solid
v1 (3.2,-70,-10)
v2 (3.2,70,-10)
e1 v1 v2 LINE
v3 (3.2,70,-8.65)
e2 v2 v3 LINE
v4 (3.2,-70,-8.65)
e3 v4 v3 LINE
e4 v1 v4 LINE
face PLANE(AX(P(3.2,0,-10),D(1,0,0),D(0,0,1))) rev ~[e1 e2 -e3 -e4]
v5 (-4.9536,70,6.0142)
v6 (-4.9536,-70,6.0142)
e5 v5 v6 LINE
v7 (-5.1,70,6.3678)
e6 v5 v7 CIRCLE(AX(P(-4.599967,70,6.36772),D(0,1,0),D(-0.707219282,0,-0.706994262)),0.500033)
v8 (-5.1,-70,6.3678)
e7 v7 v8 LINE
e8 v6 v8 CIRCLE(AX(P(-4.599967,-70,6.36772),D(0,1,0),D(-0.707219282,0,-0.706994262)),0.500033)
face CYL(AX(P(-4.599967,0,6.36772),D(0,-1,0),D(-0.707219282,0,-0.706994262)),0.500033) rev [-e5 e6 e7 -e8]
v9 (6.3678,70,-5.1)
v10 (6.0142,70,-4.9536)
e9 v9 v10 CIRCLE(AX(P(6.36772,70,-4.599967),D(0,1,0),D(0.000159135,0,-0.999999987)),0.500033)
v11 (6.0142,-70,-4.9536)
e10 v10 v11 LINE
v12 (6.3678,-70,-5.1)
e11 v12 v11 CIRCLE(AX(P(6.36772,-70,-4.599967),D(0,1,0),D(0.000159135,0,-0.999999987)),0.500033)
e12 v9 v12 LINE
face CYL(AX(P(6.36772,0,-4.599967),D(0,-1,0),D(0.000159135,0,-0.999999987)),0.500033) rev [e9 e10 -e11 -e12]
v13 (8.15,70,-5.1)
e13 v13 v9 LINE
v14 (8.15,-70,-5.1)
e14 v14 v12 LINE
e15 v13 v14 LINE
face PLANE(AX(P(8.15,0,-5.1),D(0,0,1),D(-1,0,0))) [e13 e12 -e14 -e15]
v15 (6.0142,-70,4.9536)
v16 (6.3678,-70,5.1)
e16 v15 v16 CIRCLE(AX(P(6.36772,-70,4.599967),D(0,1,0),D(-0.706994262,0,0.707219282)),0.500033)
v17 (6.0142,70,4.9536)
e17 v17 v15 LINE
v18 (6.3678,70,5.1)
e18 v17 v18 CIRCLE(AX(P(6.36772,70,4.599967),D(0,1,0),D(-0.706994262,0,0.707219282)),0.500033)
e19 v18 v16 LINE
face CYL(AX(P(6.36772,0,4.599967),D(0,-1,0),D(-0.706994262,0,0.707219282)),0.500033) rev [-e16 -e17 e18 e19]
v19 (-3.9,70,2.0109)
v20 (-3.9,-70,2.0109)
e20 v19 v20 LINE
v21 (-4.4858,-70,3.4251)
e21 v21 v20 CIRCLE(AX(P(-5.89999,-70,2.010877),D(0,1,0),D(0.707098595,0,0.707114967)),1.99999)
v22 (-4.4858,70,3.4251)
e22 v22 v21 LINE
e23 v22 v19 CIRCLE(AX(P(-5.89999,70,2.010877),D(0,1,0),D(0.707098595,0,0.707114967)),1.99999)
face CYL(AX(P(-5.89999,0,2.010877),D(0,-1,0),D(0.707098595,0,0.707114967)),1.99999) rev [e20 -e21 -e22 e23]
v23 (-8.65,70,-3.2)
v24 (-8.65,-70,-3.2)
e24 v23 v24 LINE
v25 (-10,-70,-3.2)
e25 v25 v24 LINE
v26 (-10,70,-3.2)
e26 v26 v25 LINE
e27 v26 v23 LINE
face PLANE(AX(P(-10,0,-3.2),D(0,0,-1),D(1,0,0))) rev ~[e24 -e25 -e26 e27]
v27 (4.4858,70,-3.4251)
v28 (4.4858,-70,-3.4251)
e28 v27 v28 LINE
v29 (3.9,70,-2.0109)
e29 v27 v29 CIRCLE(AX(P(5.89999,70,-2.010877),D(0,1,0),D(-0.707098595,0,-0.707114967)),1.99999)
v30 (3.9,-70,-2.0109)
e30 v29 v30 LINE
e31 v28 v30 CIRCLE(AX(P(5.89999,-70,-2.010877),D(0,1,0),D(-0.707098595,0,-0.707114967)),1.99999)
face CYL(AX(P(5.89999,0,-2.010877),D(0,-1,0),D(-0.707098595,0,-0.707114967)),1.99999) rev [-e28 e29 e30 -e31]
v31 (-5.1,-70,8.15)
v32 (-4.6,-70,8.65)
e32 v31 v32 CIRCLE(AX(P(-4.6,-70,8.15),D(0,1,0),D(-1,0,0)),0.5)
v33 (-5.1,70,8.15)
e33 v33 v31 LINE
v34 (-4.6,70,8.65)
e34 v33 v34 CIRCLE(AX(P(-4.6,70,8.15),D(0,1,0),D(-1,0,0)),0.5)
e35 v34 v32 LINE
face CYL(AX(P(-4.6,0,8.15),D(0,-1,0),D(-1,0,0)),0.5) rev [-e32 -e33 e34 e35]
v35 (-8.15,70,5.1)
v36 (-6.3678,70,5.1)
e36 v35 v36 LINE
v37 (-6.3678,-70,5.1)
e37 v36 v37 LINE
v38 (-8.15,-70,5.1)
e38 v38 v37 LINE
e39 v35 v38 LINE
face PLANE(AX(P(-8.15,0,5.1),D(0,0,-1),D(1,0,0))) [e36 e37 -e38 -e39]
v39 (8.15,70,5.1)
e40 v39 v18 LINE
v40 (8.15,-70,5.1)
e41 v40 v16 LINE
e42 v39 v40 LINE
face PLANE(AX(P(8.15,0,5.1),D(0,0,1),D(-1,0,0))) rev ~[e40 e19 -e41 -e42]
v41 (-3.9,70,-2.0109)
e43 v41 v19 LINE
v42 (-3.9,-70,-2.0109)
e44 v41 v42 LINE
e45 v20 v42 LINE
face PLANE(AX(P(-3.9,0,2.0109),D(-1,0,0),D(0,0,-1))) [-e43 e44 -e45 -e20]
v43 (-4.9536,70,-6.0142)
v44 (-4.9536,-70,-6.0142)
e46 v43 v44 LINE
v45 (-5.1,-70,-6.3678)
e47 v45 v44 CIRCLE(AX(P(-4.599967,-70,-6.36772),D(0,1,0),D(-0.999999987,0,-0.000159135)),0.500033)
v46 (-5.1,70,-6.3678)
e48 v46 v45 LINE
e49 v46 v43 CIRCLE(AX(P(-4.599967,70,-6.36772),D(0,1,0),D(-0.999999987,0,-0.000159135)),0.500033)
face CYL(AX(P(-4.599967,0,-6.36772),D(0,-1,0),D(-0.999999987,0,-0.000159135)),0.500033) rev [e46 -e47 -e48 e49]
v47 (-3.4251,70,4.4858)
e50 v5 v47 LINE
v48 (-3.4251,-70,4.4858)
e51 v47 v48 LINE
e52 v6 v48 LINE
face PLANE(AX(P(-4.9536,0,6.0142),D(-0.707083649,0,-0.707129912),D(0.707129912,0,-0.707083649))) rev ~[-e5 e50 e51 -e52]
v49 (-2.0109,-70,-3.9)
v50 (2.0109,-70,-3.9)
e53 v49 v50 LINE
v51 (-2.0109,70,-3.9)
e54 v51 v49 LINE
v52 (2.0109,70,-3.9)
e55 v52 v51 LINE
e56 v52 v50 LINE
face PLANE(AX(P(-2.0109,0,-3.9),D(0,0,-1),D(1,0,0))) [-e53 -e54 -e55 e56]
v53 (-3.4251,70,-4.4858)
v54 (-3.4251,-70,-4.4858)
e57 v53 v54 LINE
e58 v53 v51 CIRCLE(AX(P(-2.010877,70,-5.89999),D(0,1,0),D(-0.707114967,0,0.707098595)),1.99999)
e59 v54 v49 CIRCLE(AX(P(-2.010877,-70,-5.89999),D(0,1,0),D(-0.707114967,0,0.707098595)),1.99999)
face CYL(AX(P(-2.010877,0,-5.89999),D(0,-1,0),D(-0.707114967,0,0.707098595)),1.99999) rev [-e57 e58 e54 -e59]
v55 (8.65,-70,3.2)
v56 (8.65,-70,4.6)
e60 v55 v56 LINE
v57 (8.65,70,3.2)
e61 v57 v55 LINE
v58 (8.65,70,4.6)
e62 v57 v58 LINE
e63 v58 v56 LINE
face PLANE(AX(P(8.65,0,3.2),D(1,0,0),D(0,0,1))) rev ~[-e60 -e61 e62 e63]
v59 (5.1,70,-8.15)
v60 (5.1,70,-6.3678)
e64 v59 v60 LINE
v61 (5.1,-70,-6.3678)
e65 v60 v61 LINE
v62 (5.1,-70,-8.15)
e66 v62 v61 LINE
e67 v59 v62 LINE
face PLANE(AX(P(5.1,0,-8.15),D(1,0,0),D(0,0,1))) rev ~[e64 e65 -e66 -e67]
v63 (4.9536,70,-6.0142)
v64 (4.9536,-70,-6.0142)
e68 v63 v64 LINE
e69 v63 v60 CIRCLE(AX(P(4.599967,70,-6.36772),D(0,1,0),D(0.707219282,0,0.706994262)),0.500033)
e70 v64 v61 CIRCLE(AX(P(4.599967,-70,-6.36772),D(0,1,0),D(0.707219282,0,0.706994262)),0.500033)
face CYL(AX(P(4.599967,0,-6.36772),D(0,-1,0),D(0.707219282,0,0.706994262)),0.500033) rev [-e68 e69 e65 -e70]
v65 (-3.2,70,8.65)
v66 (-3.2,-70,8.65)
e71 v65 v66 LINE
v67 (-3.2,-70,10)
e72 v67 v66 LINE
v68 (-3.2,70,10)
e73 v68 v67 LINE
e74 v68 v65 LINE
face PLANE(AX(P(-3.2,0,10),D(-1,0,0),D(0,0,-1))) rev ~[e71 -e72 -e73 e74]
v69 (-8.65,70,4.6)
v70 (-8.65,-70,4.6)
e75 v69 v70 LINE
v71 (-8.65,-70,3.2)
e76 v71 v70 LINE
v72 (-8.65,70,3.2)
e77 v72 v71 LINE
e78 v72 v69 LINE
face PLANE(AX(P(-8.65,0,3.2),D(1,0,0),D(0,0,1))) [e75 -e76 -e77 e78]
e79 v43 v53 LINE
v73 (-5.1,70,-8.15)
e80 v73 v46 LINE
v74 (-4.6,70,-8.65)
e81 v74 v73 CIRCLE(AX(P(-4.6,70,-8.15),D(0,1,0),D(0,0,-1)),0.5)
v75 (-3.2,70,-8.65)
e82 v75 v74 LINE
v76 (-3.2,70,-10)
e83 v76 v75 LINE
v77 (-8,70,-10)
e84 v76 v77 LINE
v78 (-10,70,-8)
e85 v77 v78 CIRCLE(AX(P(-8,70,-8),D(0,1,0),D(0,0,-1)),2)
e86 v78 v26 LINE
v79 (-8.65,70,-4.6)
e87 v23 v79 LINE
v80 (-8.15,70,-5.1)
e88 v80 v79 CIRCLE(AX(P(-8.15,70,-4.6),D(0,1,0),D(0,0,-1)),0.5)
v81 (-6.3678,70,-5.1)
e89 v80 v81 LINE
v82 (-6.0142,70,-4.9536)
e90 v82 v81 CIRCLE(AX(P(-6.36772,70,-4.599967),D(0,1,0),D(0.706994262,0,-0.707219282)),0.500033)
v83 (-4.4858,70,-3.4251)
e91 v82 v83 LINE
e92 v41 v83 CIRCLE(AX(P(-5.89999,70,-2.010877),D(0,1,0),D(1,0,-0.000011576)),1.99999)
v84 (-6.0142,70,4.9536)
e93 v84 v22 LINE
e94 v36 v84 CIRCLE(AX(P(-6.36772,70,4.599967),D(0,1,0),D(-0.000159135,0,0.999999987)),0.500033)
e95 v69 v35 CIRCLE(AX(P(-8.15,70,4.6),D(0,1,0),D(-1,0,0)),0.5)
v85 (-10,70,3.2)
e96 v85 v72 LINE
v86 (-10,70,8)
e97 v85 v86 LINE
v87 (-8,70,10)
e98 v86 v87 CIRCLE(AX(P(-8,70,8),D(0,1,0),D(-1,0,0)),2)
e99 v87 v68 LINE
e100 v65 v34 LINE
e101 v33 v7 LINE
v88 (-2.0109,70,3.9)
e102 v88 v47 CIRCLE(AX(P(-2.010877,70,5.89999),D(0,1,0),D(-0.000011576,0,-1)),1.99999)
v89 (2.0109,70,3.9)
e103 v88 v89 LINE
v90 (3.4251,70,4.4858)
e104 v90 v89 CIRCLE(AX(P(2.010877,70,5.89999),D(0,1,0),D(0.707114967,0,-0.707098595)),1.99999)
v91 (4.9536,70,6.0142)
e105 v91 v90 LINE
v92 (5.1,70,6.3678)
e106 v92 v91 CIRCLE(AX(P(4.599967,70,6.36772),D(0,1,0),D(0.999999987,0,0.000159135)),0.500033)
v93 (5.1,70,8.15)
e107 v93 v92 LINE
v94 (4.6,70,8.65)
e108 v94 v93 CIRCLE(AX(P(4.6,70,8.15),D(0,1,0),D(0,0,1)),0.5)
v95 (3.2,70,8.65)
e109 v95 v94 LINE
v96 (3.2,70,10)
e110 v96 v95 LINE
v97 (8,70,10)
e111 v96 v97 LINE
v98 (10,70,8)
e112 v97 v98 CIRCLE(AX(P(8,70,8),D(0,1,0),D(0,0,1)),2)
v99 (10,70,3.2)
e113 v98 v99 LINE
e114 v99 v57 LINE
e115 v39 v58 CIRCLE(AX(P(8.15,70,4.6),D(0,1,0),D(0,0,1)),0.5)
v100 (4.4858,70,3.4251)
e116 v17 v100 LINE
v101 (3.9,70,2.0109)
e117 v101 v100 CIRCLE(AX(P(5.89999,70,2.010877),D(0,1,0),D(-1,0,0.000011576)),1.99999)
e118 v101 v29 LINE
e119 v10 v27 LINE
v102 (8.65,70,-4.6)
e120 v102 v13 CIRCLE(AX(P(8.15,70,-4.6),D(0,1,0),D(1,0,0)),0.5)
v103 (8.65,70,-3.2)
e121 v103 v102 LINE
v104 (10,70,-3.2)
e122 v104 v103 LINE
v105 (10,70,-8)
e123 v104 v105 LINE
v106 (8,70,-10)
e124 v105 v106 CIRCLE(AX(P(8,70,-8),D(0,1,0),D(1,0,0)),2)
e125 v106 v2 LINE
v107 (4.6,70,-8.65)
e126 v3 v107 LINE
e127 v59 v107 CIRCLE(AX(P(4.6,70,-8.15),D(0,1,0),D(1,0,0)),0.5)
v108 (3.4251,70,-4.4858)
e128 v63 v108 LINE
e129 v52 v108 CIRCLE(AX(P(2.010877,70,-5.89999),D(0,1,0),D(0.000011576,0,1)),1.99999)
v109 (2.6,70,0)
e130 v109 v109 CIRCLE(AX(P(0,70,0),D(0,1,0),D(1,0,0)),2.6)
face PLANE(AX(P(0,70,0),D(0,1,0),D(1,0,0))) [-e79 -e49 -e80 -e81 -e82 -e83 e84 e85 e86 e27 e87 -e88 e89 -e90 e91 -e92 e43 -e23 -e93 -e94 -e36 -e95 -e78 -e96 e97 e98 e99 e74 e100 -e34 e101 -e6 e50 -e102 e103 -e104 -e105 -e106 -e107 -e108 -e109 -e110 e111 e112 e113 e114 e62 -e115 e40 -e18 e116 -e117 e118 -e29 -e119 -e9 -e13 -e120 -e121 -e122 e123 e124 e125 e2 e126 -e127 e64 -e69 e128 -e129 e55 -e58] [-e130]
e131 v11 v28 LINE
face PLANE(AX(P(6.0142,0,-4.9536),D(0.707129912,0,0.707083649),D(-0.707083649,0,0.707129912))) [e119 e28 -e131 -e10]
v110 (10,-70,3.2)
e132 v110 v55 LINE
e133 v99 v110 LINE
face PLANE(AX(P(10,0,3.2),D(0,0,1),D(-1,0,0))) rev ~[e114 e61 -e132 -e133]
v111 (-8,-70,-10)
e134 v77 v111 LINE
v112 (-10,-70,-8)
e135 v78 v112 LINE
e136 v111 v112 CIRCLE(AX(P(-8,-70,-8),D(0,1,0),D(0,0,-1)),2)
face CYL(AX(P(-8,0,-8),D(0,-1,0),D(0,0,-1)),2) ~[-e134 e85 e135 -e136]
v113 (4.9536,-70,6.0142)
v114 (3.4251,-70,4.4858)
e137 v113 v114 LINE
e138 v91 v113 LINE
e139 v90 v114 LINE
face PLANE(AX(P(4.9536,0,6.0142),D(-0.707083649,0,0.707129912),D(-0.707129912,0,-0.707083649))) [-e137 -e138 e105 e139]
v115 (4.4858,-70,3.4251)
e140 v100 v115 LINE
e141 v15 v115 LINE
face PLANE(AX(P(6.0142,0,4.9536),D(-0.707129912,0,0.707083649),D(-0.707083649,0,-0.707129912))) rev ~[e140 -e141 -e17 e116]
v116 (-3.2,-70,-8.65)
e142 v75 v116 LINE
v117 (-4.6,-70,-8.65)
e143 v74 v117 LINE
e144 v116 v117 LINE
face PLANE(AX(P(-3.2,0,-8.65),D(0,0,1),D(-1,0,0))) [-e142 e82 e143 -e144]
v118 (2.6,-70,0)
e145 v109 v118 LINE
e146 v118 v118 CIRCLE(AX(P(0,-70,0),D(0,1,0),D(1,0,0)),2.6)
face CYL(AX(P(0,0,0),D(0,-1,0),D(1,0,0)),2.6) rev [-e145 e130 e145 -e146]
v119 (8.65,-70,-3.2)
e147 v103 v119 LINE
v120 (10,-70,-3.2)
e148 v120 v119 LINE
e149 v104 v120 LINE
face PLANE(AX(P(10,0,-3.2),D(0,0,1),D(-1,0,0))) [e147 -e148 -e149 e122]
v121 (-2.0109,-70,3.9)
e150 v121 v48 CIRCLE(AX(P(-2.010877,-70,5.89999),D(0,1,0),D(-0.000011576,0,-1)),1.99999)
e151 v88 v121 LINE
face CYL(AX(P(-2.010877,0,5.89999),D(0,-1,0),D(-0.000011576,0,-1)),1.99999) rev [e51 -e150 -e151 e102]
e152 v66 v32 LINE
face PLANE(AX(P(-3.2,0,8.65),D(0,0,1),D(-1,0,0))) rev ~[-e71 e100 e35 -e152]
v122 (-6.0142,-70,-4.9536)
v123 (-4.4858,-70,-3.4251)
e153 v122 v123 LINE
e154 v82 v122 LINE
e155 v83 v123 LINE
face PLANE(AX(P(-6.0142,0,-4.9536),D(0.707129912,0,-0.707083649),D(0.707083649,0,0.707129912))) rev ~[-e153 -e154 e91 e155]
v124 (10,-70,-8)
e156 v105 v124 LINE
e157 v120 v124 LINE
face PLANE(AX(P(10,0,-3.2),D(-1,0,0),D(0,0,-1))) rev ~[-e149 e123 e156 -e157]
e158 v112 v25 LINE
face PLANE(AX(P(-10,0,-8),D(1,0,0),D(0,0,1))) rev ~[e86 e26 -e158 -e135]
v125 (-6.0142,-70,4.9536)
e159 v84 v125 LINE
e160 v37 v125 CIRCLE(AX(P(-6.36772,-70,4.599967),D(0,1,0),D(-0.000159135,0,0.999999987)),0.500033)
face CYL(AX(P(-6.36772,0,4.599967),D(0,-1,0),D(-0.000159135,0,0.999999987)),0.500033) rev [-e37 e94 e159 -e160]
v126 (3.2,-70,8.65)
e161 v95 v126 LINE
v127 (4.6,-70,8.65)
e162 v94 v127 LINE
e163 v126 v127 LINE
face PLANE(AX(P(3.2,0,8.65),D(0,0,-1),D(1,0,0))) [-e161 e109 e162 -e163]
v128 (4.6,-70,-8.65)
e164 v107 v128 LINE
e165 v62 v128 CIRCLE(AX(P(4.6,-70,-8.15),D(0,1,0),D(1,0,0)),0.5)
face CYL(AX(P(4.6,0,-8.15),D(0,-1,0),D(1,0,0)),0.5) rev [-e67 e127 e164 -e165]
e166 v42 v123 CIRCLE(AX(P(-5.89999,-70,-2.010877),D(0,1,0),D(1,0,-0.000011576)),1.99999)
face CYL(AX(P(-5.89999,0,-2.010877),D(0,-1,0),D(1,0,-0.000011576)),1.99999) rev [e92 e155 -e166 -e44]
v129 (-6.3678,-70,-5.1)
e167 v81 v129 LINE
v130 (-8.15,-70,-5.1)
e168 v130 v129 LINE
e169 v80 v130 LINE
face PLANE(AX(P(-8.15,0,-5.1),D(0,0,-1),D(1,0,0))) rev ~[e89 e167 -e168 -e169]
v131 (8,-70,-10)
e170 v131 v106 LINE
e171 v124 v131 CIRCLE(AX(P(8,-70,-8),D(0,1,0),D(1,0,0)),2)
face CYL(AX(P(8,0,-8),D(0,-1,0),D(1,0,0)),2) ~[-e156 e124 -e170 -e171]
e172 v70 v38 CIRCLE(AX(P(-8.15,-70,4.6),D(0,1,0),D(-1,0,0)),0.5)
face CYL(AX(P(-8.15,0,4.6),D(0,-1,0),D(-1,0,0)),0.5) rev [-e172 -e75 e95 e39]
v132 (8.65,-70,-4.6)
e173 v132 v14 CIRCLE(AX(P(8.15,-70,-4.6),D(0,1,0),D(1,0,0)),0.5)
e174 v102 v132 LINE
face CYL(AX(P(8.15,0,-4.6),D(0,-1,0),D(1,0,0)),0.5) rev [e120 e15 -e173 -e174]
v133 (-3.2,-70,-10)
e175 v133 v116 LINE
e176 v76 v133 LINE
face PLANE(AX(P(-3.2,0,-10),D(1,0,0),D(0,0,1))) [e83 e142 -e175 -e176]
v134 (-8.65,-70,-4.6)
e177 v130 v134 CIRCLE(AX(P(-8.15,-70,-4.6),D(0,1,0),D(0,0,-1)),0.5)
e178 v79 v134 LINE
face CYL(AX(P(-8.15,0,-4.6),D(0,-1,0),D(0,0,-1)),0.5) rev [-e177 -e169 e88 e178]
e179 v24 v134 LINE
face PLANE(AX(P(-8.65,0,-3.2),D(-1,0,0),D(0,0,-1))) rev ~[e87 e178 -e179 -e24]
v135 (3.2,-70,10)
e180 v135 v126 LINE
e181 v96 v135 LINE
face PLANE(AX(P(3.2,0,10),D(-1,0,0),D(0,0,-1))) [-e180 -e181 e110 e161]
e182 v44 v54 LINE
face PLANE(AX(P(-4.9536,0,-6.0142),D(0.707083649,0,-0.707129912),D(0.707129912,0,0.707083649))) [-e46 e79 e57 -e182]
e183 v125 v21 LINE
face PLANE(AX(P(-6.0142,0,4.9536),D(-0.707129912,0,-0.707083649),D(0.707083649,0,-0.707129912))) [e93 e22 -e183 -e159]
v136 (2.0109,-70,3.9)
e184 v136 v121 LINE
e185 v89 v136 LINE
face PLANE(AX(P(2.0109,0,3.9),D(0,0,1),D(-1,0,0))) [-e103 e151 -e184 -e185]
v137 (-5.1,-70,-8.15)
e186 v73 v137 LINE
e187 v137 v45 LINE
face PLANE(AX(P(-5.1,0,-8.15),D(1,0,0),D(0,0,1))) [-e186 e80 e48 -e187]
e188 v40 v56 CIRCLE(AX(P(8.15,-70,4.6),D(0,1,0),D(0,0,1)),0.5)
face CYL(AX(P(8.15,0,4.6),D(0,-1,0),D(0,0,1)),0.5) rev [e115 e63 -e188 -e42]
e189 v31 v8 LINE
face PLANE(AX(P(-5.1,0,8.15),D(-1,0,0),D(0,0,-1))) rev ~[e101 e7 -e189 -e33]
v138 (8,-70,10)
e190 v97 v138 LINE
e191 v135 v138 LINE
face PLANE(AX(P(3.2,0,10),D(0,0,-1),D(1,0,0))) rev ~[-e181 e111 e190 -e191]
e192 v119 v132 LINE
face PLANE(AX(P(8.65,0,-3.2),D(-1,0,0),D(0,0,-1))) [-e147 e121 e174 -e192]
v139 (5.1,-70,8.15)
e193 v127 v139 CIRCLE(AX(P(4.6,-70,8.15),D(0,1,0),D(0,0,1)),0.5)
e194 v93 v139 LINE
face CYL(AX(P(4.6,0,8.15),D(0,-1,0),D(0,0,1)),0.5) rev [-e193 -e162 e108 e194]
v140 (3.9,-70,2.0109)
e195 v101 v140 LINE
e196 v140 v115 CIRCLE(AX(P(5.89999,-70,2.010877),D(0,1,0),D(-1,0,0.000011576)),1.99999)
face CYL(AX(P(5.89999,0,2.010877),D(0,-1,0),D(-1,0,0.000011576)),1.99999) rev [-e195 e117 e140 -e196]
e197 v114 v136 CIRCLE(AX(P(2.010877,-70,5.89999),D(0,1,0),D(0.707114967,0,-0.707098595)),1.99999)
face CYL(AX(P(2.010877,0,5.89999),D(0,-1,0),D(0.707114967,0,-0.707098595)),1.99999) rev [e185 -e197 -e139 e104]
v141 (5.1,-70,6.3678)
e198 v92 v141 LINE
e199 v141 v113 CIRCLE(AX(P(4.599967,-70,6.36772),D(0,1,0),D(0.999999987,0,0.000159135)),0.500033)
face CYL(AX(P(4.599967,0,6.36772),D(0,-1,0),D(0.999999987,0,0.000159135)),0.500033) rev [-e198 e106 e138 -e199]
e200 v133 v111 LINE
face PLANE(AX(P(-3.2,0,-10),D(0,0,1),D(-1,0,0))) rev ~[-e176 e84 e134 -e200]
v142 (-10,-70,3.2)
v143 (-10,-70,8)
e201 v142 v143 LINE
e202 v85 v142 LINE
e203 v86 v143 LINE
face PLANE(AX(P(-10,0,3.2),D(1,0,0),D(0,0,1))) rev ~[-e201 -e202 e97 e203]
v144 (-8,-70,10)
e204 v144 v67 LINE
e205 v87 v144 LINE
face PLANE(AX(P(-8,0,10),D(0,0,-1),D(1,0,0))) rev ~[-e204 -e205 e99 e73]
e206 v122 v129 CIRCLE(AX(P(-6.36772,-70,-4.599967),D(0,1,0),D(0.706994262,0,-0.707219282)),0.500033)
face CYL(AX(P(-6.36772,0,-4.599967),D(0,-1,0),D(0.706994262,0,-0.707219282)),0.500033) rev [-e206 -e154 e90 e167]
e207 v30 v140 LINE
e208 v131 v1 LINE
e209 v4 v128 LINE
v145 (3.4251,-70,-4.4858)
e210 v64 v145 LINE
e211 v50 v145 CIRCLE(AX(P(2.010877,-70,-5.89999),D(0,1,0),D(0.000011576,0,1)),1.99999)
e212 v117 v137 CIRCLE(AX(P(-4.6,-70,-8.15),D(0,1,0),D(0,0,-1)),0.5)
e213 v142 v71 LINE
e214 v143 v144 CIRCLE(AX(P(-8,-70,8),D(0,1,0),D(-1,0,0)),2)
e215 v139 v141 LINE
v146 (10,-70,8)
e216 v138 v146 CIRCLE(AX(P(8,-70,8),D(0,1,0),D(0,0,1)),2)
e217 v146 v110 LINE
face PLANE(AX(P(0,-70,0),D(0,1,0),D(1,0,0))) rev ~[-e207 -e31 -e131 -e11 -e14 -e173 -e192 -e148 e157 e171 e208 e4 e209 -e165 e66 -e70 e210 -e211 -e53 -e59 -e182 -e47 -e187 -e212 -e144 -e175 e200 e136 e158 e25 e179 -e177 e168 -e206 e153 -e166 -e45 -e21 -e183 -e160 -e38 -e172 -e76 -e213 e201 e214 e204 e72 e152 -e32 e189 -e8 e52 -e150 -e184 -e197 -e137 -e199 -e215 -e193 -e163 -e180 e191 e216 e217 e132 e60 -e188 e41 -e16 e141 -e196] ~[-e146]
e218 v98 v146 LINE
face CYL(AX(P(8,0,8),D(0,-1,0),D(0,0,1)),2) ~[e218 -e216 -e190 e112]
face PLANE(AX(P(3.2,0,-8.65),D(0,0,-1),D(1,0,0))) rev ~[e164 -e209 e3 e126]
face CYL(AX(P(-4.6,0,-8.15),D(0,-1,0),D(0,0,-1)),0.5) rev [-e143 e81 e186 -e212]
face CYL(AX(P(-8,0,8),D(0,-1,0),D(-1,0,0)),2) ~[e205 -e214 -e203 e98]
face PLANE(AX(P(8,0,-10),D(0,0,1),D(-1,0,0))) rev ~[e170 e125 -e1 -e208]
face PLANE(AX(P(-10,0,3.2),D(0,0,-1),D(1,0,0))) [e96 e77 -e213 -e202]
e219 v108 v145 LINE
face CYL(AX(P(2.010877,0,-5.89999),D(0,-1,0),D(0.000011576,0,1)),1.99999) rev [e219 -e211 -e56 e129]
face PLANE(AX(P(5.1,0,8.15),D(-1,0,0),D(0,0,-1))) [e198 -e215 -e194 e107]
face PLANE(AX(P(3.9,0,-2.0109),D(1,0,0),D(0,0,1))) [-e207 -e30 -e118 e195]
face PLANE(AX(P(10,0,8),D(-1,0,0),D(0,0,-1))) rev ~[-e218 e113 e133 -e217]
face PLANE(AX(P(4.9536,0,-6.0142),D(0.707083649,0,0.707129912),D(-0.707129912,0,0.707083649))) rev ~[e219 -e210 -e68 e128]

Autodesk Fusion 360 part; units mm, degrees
sketch "スケッチ1" plane through (0, 0, 0) normal (0, 1, 0) x (1, 0, 0)
  line L0 (8, 10) -> (-8, 10)
  line L1 (-10, 8) -> (-10, -8)
  line L2 (-8, -10) -> (8, -10)
  line L3 (10, -8) -> (10, 8)
  line L4 (10, 10) -> (-10, -10) construction
  line L5 (-10, 10) -> (10, -10) construction
  circle A0 centre (0, 0) radius 2.6
  line L6 (-3.2, -10) -> (-3.2, -8.65)
  line L7 (-3.2, -8.65) -> (-4.6, -8.65)
  line L8 (-5.1, -8.15) -> (-5.1, -6.3678)
  line L9 (-4.9536, -6.0142) -> (-3.4251, -4.4858)
  line L10 (0, 0) -> (0, -10) construction
  line L11 (-2.0109, -3.9) -> (0, -3.9)
  arc A1 (-5.1, -8.15) -> (-4.6, -8.65) centre (-4.6, -8.15) ccw
  arc A2 (-4.9536, -6.0142) -> (-5.1, -6.3678) centre (-4.6, -6.3678) ccw
  arc A3 (-2.0109, -3.9) -> (-3.4251, -4.4858) centre (-2.0109, -5.9) ccw
  arc A4 (-10, -8) -> (-8, -10) centre (-8, -8) ccw
  arc A5 (10, 8) -> (8, 10) centre (8, 8) ccw
  arc A6 (8, -10) -> (10, -8) centre (8, -8) ccw
  arc A7 (-8, 10) -> (-10, 8) centre (-8, 8) ccw
  line L12 (3.2, -10) -> (3.2, -8.65)
  line L13 (3.2, -8.65) -> (4.6, -8.65)
  arc A8 (4.6, -8.65) -> (5.1, -8.15) centre (4.6, -8.15) ccw
  line L14 (5.1, -8.15) -> (5.1, -6.3678)
  arc A9 (5.1, -6.3678) -> (4.9536, -6.0142) centre (4.6, -6.3678) ccw
  line L15 (4.9536, -6.0142) -> (3.4251, -4.4858)
  arc A10 (3.4251, -4.4858) -> (2.0109, -3.9) centre (2.0109, -5.9) ccw
  line L16 (2.0109, -3.9) -> (0, -3.9)
  line L17 (10, -3.2) -> (8.65, -3.2)
  line L18 (8.65, -3.2) -> (8.65, -4.6)
  arc A11 (8.15, -5.1) -> (8.65, -4.6) centre (8.15, -4.6) ccw
  line L19 (8.15, -5.1) -> (6.3678, -5.1)
  arc A12 (6.0142, -4.9536) -> (6.3678, -5.1) centre (6.3678, -4.6) ccw
  line L20 (6.0142, -4.9536) -> (4.4858, -3.4251)
  arc A13 (3.9, -2.0109) -> (4.4858, -3.4251) centre (5.9, -2.0109) ccw
  line L21 (3.9, -2.0109) -> (3.9, 0)
  line L22 (3.9, 2.0109) -> (3.9, 0)
  arc A14 (4.4858, 3.4251) -> (3.9, 2.0109) centre (5.9, 2.0109) ccw
  line L23 (6.0142, 4.9536) -> (4.4858, 3.4251)
  arc A15 (6.3678, 5.1) -> (6.0142, 4.9536) centre (6.3678, 4.6) ccw
  line L24 (8.15, 5.1) -> (6.3678, 5.1)
  arc A16 (8.65, 4.6) -> (8.15, 5.1) centre (8.15, 4.6) ccw
  line L25 (8.65, 3.2) -> (8.65, 4.6)
  line L26 (10, 3.2) -> (8.65, 3.2)
  line L27 (3.2, 10) -> (3.2, 8.65)
  line L28 (3.2, 8.65) -> (4.6, 8.65)
  arc A17 (5.1, 8.15) -> (4.6, 8.65) centre (4.6, 8.15) ccw
  line L29 (5.1, 8.15) -> (5.1, 6.3678)
  arc A18 (4.9536, 6.0142) -> (5.1, 6.3678) centre (4.6, 6.3678) ccw
  line L30 (4.9536, 6.0142) -> (3.4251, 4.4858)
  arc A19 (2.0109, 3.9) -> (3.4251, 4.4858) centre (2.0109, 5.9) ccw
  line L31 (2.0109, 3.9) -> (0, 3.9)
  line L32 (-2.0109, 3.9) -> (0, 3.9)
  arc A20 (-3.4251, 4.4858) -> (-2.0109, 3.9) centre (-2.0109, 5.9) ccw
  line L33 (-4.9536, 6.0142) -> (-3.4251, 4.4858)
  arc A21 (-5.1, 6.3678) -> (-4.9536, 6.0142) centre (-4.6, 6.3678) ccw
  line L34 (-5.1, 8.15) -> (-5.1, 6.3678)
  arc A22 (-4.6, 8.65) -> (-5.1, 8.15) centre (-4.6, 8.15) ccw
  line L35 (-3.2, 8.65) -> (-4.6, 8.65)
  line L36 (-3.2, 10) -> (-3.2, 8.65)
  line L37 (-10, 3.2) -> (-8.65, 3.2)
  line L38 (-8.65, 3.2) -> (-8.65, 4.6)
  arc A23 (-8.15, 5.1) -> (-8.65, 4.6) centre (-8.15, 4.6) ccw
  line L39 (-8.15, 5.1) -> (-6.3678, 5.1)
  arc A24 (-6.0142, 4.9536) -> (-6.3678, 5.1) centre (-6.3678, 4.6) ccw
  line L40 (-6.0142, 4.9536) -> (-4.4858, 3.4251)
  arc A25 (-3.9, 2.0109) -> (-4.4858, 3.4251) centre (-5.9, 2.0109) ccw
  line L41 (-3.9, 2.0109) -> (-3.9, 0)
  line L42 (-3.9, -2.0109) -> (-3.9, 0)
  arc A26 (-4.4858, -3.4251) -> (-3.9, -2.0109) centre (-5.9, -2.0109) ccw
  line L43 (-6.0142, -4.9536) -> (-4.4858, -3.4251)
  arc A27 (-6.3678, -5.1) -> (-6.0142, -4.9536) centre (-6.3678, -4.6) ccw
  line L44 (-8.15, -5.1) -> (-6.3678, -5.1)
  arc A28 (-8.65, -4.6) -> (-8.15, -5.1) centre (-8.15, -4.6) ccw
  line L45 (-8.65, -3.2) -> (-8.65, -4.6)
  line L46 (-10, -3.2) -> (-8.65, -3.2)
  dimension "d1" = 20
  dimension "d2" = 20
  dimension "d3" = 5.2
  dimension "d4" = 1.35
  dimension "d5" = 3.2
  dimension "d6" = 5.1
  dimension "d7" = 6.1
  dimension "d8" = 0.75
  dimension "d9" = 0.5
  dimension "d10" = 2
  dimension "d11" = 2
  dimension "d12" = 2
  dimension "d13" = 2
  dimension "d14" = 2
  dimension "d16" = 360
extrude "押し出し1" add sketch "スケッチ1" along normal mid plane 140 contours L0 L1 L2 L3 L6 L7 L8 L9 L11 A1 A2 A3 A4 A5 A6 A7 L12 L13 A8 L14 A9 L15 A10 L16 L17 L18 A11 L19 A12 L20 A13 L21 L22 A14 L23 A15 L24 A16 L25 L26 L27 L28 A17 L29 A18 L30 A19 L31 L32 A20 L33 A21 L34 A22 L35 L36 L37 L38 A23 L39 A24 L40 A25 L41 L42 A26 L43 A27 L44 A28 L45 L46
